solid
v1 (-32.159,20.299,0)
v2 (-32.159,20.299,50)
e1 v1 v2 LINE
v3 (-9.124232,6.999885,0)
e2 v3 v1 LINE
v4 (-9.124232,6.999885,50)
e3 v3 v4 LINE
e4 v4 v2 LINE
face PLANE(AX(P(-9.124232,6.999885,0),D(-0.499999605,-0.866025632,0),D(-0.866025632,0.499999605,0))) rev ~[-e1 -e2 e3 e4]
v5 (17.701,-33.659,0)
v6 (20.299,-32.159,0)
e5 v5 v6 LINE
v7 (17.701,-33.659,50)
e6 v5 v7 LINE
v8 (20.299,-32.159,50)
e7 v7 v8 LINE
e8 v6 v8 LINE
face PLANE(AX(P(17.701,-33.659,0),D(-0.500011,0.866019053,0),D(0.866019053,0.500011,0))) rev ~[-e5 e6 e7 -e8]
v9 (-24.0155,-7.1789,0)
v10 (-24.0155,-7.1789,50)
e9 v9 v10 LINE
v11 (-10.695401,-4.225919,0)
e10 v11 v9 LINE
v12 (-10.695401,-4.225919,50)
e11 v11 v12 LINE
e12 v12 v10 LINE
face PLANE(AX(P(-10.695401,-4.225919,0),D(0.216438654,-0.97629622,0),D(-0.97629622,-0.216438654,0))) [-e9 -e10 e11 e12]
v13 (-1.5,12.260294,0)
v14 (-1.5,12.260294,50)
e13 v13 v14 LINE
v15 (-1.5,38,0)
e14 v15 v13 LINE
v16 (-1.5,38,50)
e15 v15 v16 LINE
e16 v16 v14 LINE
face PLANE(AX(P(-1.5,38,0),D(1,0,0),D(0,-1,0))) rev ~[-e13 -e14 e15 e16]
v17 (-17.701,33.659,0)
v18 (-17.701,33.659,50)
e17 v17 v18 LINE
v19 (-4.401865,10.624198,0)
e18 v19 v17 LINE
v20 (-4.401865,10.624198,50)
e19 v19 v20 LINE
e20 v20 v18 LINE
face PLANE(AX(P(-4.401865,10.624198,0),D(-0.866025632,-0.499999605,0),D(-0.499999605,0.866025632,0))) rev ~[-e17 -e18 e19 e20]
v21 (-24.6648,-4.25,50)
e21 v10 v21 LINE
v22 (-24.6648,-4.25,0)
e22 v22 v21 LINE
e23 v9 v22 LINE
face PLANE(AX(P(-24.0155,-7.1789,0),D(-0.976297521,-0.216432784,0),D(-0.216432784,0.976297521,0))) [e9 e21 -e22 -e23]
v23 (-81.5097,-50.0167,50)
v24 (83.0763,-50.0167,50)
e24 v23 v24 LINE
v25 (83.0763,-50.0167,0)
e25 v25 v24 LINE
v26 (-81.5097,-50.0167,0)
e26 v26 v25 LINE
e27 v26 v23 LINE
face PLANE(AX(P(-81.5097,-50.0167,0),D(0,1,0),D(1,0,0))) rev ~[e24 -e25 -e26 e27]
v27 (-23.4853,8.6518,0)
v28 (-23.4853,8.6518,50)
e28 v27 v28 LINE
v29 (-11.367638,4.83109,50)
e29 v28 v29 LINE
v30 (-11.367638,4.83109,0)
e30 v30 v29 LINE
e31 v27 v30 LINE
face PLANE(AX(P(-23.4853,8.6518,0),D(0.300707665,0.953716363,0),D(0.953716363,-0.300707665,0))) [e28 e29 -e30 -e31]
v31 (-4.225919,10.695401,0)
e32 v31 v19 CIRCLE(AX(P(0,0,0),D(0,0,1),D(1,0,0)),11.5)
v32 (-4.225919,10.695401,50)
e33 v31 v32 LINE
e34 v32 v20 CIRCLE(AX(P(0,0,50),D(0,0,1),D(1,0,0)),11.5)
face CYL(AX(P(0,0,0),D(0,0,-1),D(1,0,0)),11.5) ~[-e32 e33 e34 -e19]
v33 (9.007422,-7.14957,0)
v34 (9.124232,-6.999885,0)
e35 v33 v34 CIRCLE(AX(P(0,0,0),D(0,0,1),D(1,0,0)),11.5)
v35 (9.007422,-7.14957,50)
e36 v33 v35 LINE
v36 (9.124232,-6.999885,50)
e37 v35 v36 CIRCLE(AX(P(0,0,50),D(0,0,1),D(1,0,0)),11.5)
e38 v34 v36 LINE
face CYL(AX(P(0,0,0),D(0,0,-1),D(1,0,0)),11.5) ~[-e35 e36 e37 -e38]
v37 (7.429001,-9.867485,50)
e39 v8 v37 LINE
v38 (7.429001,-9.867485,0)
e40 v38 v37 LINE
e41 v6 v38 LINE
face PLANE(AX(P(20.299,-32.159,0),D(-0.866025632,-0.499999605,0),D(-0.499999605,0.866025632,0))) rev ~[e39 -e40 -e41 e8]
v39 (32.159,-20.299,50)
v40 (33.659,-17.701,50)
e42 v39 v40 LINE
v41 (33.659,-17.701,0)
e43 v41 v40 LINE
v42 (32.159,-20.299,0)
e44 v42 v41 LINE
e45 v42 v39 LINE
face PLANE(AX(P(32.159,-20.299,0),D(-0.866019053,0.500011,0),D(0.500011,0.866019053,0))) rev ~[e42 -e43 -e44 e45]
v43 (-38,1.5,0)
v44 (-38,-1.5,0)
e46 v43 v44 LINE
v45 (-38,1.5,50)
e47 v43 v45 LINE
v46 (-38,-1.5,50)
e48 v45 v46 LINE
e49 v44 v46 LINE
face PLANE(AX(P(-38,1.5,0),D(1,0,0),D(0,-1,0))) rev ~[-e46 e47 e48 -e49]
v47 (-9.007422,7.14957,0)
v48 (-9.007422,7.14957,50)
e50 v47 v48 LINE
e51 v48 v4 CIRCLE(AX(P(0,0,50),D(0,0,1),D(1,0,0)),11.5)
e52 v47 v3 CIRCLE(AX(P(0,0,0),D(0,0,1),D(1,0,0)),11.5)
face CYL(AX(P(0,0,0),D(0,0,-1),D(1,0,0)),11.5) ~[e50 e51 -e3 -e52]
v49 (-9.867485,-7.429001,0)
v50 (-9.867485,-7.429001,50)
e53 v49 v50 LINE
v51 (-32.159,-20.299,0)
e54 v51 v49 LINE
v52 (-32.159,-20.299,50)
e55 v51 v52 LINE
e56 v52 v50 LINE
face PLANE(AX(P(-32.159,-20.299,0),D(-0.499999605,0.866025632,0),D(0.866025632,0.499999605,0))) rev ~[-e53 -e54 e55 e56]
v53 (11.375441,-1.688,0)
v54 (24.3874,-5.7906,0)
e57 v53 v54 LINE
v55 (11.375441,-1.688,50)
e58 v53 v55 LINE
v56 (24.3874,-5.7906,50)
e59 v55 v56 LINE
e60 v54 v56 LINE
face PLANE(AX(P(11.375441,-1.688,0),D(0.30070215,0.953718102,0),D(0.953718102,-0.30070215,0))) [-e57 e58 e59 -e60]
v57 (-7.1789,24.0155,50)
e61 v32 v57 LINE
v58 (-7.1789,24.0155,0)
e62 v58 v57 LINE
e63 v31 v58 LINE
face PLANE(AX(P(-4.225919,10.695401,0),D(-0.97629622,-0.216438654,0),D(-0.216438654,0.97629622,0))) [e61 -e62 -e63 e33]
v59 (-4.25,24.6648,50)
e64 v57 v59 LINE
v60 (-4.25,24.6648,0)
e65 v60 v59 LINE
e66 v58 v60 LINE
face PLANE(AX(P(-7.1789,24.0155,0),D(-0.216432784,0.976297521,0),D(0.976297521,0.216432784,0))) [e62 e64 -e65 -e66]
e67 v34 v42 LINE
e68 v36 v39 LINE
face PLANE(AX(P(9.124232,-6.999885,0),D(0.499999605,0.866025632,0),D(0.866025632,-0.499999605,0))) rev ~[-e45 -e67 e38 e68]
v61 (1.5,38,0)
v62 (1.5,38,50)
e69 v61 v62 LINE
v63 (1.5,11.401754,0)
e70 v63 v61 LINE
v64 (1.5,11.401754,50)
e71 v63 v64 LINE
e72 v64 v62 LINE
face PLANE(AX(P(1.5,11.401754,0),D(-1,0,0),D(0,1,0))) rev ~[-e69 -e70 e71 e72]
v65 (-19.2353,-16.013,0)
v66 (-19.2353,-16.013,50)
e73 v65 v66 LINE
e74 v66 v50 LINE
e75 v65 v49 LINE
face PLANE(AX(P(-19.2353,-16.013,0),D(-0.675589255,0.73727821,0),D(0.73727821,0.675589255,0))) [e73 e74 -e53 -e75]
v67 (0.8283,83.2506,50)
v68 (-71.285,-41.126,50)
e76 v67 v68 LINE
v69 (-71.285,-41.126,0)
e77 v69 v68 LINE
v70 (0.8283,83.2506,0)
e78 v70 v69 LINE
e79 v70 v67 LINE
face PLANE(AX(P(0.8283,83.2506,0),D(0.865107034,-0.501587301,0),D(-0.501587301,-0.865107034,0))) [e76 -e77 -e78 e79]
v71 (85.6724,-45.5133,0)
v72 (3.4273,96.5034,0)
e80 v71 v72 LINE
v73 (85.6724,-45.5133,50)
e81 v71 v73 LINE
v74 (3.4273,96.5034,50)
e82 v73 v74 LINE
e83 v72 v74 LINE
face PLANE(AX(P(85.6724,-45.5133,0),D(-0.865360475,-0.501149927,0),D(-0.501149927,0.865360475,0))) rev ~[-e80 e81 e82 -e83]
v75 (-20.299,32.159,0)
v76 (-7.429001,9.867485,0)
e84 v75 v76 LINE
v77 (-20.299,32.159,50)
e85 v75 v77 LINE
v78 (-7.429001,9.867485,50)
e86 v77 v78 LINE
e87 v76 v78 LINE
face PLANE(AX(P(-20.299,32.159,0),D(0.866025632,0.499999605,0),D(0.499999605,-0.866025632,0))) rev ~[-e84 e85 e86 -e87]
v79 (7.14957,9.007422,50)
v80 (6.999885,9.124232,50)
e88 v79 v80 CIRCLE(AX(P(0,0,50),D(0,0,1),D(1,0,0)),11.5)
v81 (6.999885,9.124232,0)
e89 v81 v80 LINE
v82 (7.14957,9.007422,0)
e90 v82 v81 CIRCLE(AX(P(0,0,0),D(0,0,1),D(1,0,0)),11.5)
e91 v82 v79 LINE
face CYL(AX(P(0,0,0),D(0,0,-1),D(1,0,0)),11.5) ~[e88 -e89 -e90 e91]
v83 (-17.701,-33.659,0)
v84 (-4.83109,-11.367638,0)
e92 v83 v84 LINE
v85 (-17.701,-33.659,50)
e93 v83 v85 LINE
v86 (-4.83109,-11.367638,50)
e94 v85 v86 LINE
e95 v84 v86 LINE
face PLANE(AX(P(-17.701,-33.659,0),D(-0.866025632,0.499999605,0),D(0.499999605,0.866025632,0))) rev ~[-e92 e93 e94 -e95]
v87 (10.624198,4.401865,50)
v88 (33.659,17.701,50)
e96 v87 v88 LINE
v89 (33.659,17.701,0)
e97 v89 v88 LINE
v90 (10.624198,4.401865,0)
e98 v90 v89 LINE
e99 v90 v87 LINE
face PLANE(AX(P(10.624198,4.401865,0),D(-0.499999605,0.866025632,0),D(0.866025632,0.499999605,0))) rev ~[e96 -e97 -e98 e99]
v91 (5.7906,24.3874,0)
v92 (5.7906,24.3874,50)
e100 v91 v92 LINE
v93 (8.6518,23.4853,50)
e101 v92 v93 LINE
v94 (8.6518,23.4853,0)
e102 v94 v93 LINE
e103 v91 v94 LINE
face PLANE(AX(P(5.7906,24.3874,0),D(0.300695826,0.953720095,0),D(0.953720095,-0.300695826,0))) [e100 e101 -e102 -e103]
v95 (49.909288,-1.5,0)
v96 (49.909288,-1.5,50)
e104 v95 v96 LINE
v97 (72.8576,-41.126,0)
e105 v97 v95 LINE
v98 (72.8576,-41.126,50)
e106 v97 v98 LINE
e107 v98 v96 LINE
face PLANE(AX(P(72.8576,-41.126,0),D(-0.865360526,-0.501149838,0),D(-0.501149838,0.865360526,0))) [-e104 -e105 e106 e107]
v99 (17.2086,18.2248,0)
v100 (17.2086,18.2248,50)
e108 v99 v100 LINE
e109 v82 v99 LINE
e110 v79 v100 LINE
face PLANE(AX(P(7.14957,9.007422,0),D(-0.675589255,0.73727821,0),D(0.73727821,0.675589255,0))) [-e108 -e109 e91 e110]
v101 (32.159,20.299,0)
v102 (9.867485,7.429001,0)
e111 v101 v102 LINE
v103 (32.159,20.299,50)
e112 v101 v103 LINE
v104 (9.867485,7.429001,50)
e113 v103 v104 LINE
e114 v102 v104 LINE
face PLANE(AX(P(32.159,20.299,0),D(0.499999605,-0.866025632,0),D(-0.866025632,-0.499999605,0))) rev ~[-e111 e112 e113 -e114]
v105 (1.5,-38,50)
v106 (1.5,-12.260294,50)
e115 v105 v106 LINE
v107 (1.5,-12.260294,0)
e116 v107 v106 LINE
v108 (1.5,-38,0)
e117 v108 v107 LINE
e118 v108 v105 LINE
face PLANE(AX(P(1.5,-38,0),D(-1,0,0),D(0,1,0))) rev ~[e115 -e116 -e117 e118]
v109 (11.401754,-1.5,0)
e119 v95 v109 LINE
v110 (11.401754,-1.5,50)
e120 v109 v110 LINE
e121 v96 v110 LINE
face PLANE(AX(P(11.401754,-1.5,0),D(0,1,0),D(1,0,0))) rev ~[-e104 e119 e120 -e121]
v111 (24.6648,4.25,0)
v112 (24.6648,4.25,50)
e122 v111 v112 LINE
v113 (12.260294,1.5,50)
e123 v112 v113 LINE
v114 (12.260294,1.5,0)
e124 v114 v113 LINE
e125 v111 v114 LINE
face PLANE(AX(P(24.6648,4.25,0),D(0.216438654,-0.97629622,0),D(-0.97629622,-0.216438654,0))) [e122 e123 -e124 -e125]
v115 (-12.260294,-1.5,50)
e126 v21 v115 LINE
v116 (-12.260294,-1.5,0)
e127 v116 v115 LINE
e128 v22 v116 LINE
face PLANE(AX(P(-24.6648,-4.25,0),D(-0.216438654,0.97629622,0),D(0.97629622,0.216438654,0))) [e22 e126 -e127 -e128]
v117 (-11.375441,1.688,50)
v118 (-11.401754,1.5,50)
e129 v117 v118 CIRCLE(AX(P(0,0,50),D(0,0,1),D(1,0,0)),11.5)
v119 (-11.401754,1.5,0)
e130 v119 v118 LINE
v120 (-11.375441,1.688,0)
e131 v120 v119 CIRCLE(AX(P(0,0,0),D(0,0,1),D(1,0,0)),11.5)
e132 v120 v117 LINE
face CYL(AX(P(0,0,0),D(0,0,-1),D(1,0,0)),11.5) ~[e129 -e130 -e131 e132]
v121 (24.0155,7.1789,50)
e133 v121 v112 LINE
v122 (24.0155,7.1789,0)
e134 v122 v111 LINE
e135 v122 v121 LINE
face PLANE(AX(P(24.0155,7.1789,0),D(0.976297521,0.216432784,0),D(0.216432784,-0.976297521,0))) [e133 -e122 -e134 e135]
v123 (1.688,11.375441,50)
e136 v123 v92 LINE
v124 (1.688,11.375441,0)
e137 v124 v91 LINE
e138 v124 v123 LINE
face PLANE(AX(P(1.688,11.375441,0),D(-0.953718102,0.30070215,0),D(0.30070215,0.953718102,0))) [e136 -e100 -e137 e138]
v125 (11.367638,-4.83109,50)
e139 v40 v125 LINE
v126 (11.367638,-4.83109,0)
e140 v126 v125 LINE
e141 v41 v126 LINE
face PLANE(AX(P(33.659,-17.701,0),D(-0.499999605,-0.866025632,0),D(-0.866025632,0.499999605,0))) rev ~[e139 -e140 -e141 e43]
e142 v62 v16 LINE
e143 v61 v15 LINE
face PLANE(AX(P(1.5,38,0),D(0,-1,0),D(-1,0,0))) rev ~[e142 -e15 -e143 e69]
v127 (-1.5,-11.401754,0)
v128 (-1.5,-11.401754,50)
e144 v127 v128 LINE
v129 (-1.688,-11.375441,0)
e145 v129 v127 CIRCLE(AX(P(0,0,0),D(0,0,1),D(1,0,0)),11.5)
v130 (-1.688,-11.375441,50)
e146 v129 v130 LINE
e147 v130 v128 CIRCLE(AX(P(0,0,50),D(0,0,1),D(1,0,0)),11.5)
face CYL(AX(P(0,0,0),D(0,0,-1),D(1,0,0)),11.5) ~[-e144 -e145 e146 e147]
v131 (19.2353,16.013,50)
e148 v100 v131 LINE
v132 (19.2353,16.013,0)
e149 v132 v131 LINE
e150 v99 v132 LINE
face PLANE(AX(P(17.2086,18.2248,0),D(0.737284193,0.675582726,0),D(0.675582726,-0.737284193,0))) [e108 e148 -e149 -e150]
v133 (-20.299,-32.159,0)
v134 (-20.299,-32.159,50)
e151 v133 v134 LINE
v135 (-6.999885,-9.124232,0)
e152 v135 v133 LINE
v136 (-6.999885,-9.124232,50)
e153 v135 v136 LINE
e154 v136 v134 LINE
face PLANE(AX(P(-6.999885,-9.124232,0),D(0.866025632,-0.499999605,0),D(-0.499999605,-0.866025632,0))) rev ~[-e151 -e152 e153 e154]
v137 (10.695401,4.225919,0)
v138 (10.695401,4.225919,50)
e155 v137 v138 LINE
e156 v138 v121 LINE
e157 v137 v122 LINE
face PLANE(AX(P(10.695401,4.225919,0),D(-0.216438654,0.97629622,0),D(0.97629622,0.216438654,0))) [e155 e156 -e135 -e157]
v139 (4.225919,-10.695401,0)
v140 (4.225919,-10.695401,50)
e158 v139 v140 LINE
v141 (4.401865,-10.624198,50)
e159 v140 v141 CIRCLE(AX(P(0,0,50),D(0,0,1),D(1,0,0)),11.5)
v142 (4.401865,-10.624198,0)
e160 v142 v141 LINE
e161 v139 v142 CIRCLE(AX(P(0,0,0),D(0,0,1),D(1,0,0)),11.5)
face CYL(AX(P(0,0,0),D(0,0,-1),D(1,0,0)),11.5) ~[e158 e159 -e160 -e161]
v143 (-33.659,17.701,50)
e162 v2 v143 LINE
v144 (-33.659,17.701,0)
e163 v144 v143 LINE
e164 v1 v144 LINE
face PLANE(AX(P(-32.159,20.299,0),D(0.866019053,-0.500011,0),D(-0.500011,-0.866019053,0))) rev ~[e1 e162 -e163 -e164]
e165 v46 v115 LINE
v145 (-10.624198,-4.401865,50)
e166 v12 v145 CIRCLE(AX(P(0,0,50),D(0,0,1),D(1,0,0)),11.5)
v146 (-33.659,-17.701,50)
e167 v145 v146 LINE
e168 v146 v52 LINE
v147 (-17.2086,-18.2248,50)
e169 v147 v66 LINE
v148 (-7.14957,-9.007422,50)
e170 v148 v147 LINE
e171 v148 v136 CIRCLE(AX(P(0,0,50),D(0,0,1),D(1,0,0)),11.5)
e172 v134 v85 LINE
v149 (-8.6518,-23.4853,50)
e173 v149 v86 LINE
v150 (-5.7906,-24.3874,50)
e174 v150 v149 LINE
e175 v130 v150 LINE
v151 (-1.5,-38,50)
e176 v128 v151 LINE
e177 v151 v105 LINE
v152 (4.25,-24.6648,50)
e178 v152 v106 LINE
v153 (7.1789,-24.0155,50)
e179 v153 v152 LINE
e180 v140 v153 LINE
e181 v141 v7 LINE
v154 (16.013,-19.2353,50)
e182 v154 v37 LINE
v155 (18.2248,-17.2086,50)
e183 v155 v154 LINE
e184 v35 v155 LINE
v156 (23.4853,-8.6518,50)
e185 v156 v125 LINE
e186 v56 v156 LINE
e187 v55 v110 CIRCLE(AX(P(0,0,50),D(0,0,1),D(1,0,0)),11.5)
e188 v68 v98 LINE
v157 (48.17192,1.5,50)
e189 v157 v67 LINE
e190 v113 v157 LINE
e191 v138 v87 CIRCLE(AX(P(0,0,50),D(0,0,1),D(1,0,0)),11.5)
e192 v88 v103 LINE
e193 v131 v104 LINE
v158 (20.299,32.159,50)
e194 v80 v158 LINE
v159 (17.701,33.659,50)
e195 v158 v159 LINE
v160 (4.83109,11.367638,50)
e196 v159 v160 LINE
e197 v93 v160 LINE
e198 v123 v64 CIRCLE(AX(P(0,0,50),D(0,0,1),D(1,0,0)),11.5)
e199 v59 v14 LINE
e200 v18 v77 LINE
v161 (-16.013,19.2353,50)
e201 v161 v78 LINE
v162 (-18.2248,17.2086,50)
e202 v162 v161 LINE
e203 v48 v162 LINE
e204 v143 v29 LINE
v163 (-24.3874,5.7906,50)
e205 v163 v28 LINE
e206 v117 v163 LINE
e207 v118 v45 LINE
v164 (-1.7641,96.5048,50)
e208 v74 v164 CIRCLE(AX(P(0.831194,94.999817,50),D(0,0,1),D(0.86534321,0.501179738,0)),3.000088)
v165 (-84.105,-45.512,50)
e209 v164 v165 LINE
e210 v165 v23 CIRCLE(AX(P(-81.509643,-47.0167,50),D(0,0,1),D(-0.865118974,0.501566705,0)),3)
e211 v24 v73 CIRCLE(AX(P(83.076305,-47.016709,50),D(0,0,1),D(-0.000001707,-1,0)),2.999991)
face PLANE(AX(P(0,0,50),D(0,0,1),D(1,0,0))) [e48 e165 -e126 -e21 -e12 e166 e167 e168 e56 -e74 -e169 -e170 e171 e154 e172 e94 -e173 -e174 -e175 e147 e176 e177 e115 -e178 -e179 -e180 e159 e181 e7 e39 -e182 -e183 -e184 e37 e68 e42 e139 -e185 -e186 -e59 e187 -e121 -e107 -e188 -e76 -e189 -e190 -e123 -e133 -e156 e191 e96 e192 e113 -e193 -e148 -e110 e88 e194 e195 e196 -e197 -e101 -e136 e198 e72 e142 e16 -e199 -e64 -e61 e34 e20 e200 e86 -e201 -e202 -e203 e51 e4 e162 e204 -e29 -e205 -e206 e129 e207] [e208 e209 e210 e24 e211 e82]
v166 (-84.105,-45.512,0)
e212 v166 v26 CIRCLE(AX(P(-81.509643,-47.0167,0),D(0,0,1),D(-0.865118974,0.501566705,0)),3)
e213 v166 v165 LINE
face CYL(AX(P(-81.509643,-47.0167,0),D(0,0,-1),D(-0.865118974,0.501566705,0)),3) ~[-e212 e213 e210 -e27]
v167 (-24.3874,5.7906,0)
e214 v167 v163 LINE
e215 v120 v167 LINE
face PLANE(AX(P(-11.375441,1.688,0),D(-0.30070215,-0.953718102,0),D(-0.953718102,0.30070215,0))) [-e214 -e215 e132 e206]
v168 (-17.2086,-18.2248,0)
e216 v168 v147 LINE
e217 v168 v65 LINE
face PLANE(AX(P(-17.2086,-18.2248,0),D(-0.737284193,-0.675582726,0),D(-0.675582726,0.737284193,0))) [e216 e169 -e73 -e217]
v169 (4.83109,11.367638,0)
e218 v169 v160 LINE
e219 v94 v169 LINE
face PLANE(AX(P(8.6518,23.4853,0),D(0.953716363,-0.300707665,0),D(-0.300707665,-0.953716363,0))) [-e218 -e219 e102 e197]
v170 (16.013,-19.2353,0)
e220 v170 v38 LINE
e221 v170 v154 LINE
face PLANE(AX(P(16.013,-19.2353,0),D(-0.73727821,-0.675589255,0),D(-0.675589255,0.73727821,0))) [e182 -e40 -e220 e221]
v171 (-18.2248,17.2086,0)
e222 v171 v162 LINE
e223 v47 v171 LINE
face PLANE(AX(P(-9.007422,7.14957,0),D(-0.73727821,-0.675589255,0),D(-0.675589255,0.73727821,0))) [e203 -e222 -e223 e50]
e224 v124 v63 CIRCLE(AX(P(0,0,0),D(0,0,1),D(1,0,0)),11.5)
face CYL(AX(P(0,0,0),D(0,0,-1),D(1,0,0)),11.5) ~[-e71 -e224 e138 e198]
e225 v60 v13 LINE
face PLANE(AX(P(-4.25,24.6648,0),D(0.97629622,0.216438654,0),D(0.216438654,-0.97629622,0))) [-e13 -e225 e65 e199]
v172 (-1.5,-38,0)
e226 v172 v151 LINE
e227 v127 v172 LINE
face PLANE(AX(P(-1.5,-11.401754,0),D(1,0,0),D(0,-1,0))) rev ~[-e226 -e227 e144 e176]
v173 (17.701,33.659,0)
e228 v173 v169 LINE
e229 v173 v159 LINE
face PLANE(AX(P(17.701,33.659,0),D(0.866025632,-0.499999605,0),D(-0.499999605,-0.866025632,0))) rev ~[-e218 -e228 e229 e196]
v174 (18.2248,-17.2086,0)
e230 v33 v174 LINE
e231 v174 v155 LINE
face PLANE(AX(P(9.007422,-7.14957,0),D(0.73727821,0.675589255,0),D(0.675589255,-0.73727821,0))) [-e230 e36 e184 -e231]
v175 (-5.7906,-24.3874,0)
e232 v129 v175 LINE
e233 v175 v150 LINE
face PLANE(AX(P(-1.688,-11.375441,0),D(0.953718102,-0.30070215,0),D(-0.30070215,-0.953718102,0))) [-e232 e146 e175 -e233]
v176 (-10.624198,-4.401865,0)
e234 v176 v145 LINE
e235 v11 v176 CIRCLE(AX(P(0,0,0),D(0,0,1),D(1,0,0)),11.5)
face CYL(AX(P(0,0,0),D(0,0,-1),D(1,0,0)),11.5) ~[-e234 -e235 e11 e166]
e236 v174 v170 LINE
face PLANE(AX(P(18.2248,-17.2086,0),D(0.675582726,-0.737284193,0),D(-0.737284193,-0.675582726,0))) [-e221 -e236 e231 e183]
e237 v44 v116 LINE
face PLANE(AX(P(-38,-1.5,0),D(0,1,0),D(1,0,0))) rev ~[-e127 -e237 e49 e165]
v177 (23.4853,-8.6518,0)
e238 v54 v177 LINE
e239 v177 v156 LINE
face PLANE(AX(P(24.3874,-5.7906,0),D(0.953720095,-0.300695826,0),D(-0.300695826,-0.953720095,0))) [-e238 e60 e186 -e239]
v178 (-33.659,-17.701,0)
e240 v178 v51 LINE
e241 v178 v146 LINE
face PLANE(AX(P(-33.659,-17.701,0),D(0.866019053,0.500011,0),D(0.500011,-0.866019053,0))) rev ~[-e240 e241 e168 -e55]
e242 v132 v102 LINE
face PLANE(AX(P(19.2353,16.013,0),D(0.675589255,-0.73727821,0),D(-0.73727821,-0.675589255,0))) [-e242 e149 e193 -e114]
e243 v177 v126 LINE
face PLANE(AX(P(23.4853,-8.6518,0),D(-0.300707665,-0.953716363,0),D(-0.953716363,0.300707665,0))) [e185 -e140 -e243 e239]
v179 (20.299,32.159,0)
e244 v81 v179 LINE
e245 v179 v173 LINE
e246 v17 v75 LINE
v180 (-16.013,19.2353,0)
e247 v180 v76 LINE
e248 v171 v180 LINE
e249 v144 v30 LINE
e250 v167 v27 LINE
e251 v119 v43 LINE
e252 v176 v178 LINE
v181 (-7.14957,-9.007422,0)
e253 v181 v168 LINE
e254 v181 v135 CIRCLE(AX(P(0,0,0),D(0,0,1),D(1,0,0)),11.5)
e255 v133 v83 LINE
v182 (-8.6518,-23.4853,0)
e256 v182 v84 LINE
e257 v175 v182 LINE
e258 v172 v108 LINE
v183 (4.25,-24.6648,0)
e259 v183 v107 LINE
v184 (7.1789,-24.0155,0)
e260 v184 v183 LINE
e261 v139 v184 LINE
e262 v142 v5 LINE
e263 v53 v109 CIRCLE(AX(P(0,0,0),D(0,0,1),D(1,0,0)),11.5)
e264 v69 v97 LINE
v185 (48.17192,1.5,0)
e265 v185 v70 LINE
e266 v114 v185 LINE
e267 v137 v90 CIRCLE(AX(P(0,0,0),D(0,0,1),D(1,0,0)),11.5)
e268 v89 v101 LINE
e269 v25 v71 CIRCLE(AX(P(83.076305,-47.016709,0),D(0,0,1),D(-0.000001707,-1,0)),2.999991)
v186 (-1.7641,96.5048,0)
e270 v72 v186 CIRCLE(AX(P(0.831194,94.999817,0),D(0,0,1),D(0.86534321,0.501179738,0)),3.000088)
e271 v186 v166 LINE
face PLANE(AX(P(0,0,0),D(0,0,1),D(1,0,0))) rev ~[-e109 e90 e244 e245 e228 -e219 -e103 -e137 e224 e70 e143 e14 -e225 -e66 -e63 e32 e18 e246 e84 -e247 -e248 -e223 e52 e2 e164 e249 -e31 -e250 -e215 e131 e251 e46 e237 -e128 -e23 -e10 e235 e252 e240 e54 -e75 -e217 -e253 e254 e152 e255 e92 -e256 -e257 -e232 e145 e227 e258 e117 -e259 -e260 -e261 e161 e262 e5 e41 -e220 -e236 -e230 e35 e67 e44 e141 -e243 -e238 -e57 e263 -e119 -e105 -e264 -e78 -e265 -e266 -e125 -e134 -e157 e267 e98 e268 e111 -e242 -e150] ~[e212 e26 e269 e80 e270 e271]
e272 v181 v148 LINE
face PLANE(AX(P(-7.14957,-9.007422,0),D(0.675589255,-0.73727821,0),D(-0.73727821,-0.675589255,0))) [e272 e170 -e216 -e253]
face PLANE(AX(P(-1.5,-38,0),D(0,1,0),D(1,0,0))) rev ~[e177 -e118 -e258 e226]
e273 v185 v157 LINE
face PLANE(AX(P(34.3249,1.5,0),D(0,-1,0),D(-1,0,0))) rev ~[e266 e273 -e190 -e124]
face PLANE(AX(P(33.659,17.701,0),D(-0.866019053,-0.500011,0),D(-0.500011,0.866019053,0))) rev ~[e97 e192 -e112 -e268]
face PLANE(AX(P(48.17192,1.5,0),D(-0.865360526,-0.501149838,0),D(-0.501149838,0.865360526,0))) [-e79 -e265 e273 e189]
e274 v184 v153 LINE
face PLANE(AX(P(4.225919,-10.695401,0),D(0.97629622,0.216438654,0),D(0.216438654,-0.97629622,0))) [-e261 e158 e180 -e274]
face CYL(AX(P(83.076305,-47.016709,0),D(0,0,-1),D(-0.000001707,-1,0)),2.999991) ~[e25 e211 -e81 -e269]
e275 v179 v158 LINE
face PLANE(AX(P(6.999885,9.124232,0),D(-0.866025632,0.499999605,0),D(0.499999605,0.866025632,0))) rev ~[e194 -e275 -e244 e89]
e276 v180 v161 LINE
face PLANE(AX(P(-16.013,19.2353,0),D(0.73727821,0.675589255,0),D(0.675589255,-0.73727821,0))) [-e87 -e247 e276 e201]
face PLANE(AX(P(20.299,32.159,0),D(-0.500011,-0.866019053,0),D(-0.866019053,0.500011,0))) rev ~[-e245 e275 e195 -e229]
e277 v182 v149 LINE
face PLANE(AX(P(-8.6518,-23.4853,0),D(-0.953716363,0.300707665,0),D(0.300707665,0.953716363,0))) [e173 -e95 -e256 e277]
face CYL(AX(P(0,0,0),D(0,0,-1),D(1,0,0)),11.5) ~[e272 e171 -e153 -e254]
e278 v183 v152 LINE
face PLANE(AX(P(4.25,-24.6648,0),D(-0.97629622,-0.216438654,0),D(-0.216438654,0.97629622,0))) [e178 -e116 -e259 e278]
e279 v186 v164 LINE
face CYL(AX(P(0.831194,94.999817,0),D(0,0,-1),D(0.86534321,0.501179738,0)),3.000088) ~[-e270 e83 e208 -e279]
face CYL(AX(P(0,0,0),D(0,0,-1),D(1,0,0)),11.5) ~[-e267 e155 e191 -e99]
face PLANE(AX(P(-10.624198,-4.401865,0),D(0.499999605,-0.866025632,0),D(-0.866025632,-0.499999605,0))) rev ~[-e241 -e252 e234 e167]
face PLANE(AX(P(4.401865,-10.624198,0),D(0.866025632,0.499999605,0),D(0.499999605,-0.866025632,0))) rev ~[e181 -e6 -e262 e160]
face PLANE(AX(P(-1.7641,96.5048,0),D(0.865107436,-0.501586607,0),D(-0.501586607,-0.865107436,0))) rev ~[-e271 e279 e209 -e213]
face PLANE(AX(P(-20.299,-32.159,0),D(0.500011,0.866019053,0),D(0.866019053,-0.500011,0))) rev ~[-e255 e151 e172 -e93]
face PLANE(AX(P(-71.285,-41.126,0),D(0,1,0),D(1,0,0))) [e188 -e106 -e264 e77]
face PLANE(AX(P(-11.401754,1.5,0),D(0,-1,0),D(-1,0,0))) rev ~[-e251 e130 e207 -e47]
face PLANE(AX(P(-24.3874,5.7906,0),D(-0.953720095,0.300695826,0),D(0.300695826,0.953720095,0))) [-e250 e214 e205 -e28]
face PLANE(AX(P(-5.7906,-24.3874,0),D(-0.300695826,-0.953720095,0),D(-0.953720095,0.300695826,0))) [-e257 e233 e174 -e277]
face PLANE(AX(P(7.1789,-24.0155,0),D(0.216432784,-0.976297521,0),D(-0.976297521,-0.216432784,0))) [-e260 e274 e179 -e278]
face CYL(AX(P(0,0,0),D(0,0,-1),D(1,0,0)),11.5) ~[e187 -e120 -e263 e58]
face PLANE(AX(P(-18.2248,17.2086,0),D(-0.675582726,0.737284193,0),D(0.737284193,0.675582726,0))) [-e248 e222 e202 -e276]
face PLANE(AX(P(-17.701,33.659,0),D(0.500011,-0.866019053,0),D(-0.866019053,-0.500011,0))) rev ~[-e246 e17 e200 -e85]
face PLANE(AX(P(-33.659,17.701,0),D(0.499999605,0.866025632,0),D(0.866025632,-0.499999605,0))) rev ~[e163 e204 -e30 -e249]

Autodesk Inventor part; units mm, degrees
ref_plane "YZ Plane" through (0, 0, 0) normal (1, 0, 0) x (0, 1, 0)
ref_plane "XZ Plane" through (0, 0, 0) normal (0, 1, 0) x (-1, 0, 0)
ref_plane "XY Plane" through (0, 0, 0) normal (0, 0, 1) x (1, 0, 0)
sketch "Esquisse3" plane through (0, 0, 0) normal (0, 0, 1) x (1, 0, 0)
  line L0 (-97.75, 106.7859) -> (105.7088, 106.7859) construction
  line L1 (105.7088, 106.7859) -> (105.7088, -86.5) construction
  line L2 (105.7088, -86.5) -> (-97.75, -86.5) construction
  line L3 (-97.75, -86.5) -> (-97.75, 106.7859) construction
  circle A0 centre (0, 0) radius 11.5
  line L4 (-1.5, 0) -> (1.5, 0)
  line L5 (1.5, 0) -> (1.5, 38)
  line L6 (1.5, 38) -> (-1.5, 38)
  line L7 (-1.5, 38) -> (-1.5, 0)
  circle A1 centre (0, 0) radius 11.5 construction
  line L8 (-1.299, -0.75) -> (1.299, 0.75)
  line L9 (1.299, 0.75) -> (-17.701, 33.659)
  line L10 (-17.701, 33.659) -> (-20.299, 32.159)
  line L11 (-20.299, 32.159) -> (-1.299, -0.75)
  circle A2 centre (0, 0) radius 11.5 construction
  line L12 (-0.75, -1.299) -> (0.75, 1.299)
  line L13 (0.75, 1.299) -> (-32.159, 20.299)
  line L14 (-32.159, 20.299) -> (-33.659, 17.701)
  line L15 (-33.659, 17.701) -> (-0.75, -1.299)
  circle A3 centre (0, 0) radius 11.5 construction
  line L16 (0, -1.5) -> (0, 1.5)
  line L17 (0, 1.5) -> (-38, 1.5)
  line L18 (-38, 1.5) -> (-38, -1.5)
  line L19 (-38, -1.5) -> (0, -1.5)
  line L20 (-17.701, -33.659) -> (1.299, -0.75)
  line L21 (-0.75, -1.299) -> (0.75, 1.299)
  line L22 (-1.299, 0.75) -> (-20.299, -32.159)
  line L23 (-33.659, -17.701) -> (-32.159, -20.299)
  line L24 (-0.75, 1.299) -> (-33.659, -17.701)
  line L25 (-38, 1.5) -> (-38, -1.5)
  line L26 (0, 1.5) -> (-38, 1.5)
  line L27 (-33.659, 17.701) -> (-0.75, -1.299)
  line L28 (0.75, 1.299) -> (-32.159, 20.299)
  line L29 (-32.159, 20.299) -> (-33.659, 17.701)
  line L30 (-20.299, -32.159) -> (-17.701, -33.659)
  line L31 (-38, -1.5) -> (0, -1.5)
  line L32 (-32.159, -20.299) -> (0.75, -1.299)
  line L33 (1.299, -0.75) -> (-1.299, 0.75)
  line L34 (0.75, -1.299) -> (-0.75, 1.299)
  line L35 (0, -1.5) -> (0, 1.5)
  line L36 (20.299, -32.159) -> (1.299, 0.75)
  line L37 (0.75, -1.299) -> (-0.75, 1.299)
  line L38 (-1.299, -0.75) -> (17.701, -33.659)
  line L39 (-1.5, -38) -> (1.5, -38)
  line L40 (-1.5, 0) -> (-1.5, -38)
  line L41 (-20.299, -32.159) -> (-17.701, -33.659)
  line L42 (-1.299, 0.75) -> (-20.299, -32.159)
  line L43 (-32.159, -20.299) -> (0.75, -1.299)
  line L44 (-0.75, 1.299) -> (-33.659, -17.701)
  line L45 (-33.659, -17.701) -> (-32.159, -20.299)
  line L46 (17.701, -33.659) -> (20.299, -32.159)
  line L47 (-17.701, -33.659) -> (1.299, -0.75)
  line L48 (1.5, -38) -> (1.5, 0)
  line L49 (1.299, 0.75) -> (-1.299, -0.75)
  line L50 (1.5, 0) -> (-1.5, 0)
  line L51 (1.299, -0.75) -> (-1.299, 0.75)
  line L52 (38, 1.5) -> (0, 1.5)
  line L53 (1.5, 0) -> (-1.5, 0)
  line L54 (0, -1.5) -> (38, -1.5)
  line L55 (32.159, -20.299) -> (33.659, -17.701)
  line L56 (-0.75, -1.299) -> (32.159, -20.299)
  line L57 (17.701, -33.659) -> (20.299, -32.159)
  line L58 (-1.299, -0.75) -> (17.701, -33.659)
  line L59 (1.5, -38) -> (1.5, 0)
  line L60 (-1.5, 0) -> (-1.5, -38)
  line L61 (-1.5, -38) -> (1.5, -38)
  line L62 (38, -1.5) -> (38, 1.5)
  line L63 (20.299, -32.159) -> (1.299, 0.75)
  line L64 (33.659, -17.701) -> (0.75, 1.299)
  line L65 (0, 1.5) -> (0, -1.5)
  line L66 (0.75, 1.299) -> (-0.75, -1.299)
  line L67 (1.299, 0.75) -> (-1.299, -0.75)
  line L68 (17.701, 33.659) -> (-1.299, 0.75)
  line L69 (0.75, 1.299) -> (-0.75, -1.299)
  line L70 (1.299, -0.75) -> (20.299, 32.159)
  line L71 (33.659, 17.701) -> (32.159, 20.299)
  line L72 (0.75, -1.299) -> (33.659, 17.701)
  line L73 (38, -1.5) -> (38, 1.5)
  line L74 (0, -1.5) -> (38, -1.5)
  line L75 (33.659, -17.701) -> (0.75, 1.299)
  line L76 (-0.75, -1.299) -> (32.159, -20.299)
  line L77 (32.159, -20.299) -> (33.659, -17.701)
  line L78 (20.299, 32.159) -> (17.701, 33.659)
  line L79 (38, 1.5) -> (0, 1.5)
  line L80 (32.159, 20.299) -> (-0.75, 1.299)
  line L81 (-1.299, 0.75) -> (1.299, -0.75)
  line L82 (-0.75, 1.299) -> (0.75, -1.299)
  line L83 (0, 1.5) -> (0, -1.5)
  line L84 (-20.299, 32.159) -> (-1.299, -0.75)
  line L85 (-0.75, 1.299) -> (0.75, -1.299)
  line L86 (1.299, 0.75) -> (-17.701, 33.659)
  line L87 (1.5, 38) -> (-1.5, 38)
  line L88 (1.5, 0) -> (1.5, 38)
  line L89 (20.299, 32.159) -> (17.701, 33.659)
  line L90 (1.299, -0.75) -> (20.299, 32.159)
  line L91 (32.159, 20.299) -> (-0.75, 1.299)
  line L92 (0.75, -1.299) -> (33.659, 17.701)
  line L93 (33.659, 17.701) -> (32.159, 20.299)
  line L94 (-17.701, 33.659) -> (-20.299, 32.159)
  line L95 (17.701, 33.659) -> (-1.299, 0.75)
  line L96 (-1.5, 38) -> (-1.5, 0)
  line L97 (-1.299, -0.75) -> (1.299, 0.75)
  line L98 (-1.5, 0) -> (1.5, 0)
  line L99 (-1.299, 0.75) -> (1.299, -0.75)
  line L100 (-3.6093, 7.914) -> (-7.1789, 24.0155)
  line L101 (-7.1789, 24.0155) -> (-4.25, 24.6648)
  line L102 (-4.25, 24.6648) -> (-0.6804, 8.5633)
  line L103 (-0.6804, 8.5633) -> (-3.6093, 7.914)
  line L104 (-3.6093, 7.914) -> (-4.25, 24.6648) construction
  line L105 (-7.1789, 24.0155) -> (-0.6804, 8.5633) construction
  line L106 (-4.8709, 7.0758) -> (-7.0827, 5.0491)
  line L107 (-16.013, 19.2353) -> (-4.8709, 7.0758)
  line L108 (-7.0827, 5.0491) -> (-18.2248, 17.2086)
  line L109 (-7.7562, 3.6924) -> (-8.6583, 0.8313)
  line L110 (-23.4853, 8.6518) -> (-7.7562, 3.6924)
  line L111 (-8.6583, 0.8313) -> (-24.3874, 5.7906)
  line L112 (-8.5633, -0.6804) -> (-7.914, -3.6093)
  line L113 (-24.6648, -4.25) -> (-8.5633, -0.6804)
  line L114 (-7.914, -3.6093) -> (-24.0155, -7.1789)
  line L115 (-18.2248, 17.2086) -> (-16.013, 19.2353)
  line L116 (-24.3874, 5.7906) -> (-23.4853, 8.6518)
  line L117 (-24.0155, -7.1789) -> (-24.6648, -4.25)
  line L118 (-0.8313, -8.6583) -> (-5.7906, -24.3874)
  line L119 (-8.6518, -23.4853) -> (-3.6924, -7.7562)
  line L120 (-5.7906, -24.3874) -> (-8.6518, -23.4853)
  line L121 (-3.6924, -7.7562) -> (-0.8313, -8.6583)
  line L122 (-17.2086, -18.2248) -> (-19.2353, -16.013)
  line L123 (-5.0491, -7.0827) -> (-17.2086, -18.2248)
  line L124 (-19.2353, -16.013) -> (-7.0758, -4.8709)
  line L125 (-7.914, -3.6093) -> (-24.0155, -7.1789)
  line L126 (-24.0155, -7.1789) -> (-24.6648, -4.25)
  line L127 (-24.6648, -4.25) -> (-8.5633, -0.6804)
  line L128 (-7.0758, -4.8709) -> (-5.0491, -7.0827)
  line L129 (-7.7562, 3.6924) -> (-8.6583, 0.8313)
  line L130 (-8.6583, 0.8313) -> (-24.3874, 5.7906)
  line L131 (-23.4853, 8.6518) -> (-7.7562, 3.6924)
  line L132 (-8.5633, -0.6804) -> (-7.914, -3.6093)
  line L133 (-24.3874, 5.7906) -> (-23.4853, 8.6518)
  line L134 (7.0827, -5.0491) -> (18.2248, -17.2086)
  line L135 (16.013, -19.2353) -> (4.8709, -7.0758)
  line L136 (18.2248, -17.2086) -> (16.013, -19.2353)
  line L137 (4.8709, -7.0758) -> (7.0827, -5.0491)
  line L138 (7.1789, -24.0155) -> (4.25, -24.6648)
  line L139 (3.6093, -7.914) -> (7.1789, -24.0155)
  line L140 (4.25, -24.6648) -> (0.6804, -8.5633)
  line L141 (-0.8313, -8.6583) -> (-5.7906, -24.3874)
  line L142 (-5.7906, -24.3874) -> (-8.6518, -23.4853)
  line L143 (-8.6518, -23.4853) -> (-3.6924, -7.7562)
  line L144 (0.6804, -8.5633) -> (3.6093, -7.914)
  line L145 (-7.0758, -4.8709) -> (-5.0491, -7.0827)
  line L146 (-5.0491, -7.0827) -> (-17.2086, -18.2248)
  line L147 (-19.2353, -16.013) -> (-7.0758, -4.8709)
  line L148 (-3.6924, -7.7562) -> (-0.8313, -8.6583)
  line L149 (-17.2086, -18.2248) -> (-19.2353, -16.013)
  line L150 (7.914, 3.6093) -> (24.0155, 7.1789)
  line L151 (24.6648, 4.25) -> (8.5633, 0.6804)
  line L152 (24.0155, 7.1789) -> (24.6648, 4.25)
  line L153 (8.5633, 0.6804) -> (7.914, 3.6093)
  line L154 (24.3874, -5.7906) -> (23.4853, -8.6518)
  line L155 (8.6583, -0.8313) -> (24.3874, -5.7906)
  line L156 (23.4853, -8.6518) -> (7.7562, -3.6924)
  line L157 (7.0827, -5.0491) -> (18.2248, -17.2086)
  line L158 (18.2248, -17.2086) -> (16.013, -19.2353)
  line L159 (16.013, -19.2353) -> (4.8709, -7.0758)
  line L160 (7.7562, -3.6924) -> (8.6583, -0.8313)
  line L161 (0.6804, -8.5633) -> (3.6093, -7.914)
  line L162 (3.6093, -7.914) -> (7.1789, -24.0155)
  line L163 (4.25, -24.6648) -> (0.6804, -8.5633)
  line L164 (4.8709, -7.0758) -> (7.0827, -5.0491)
  line L165 (7.1789, -24.0155) -> (4.25, -24.6648)
  line L166 (0.8313, 8.6583) -> (5.7906, 24.3874)
  line L167 (8.6518, 23.4853) -> (3.6924, 7.7562)
  line L168 (5.7906, 24.3874) -> (8.6518, 23.4853)
  line L169 (3.6924, 7.7562) -> (0.8313, 8.6583)
  line L170 (17.2086, 18.2248) -> (19.2353, 16.013)
  line L171 (5.0491, 7.0827) -> (17.2086, 18.2248)
  line L172 (19.2353, 16.013) -> (7.0758, 4.8709)
  line L173 (7.914, 3.6093) -> (24.0155, 7.1789)
  line L174 (24.0155, 7.1789) -> (24.6648, 4.25)
  line L175 (24.6648, 4.25) -> (8.5633, 0.6804)
  line L176 (7.0758, 4.8709) -> (5.0491, 7.0827)
  line L177 (7.7562, -3.6924) -> (8.6583, -0.8313)
  line L178 (8.6583, -0.8313) -> (24.3874, -5.7906)
  line L179 (23.4853, -8.6518) -> (7.7562, -3.6924)
  line L180 (8.5633, 0.6804) -> (7.914, 3.6093)
  line L181 (24.3874, -5.7906) -> (23.4853, -8.6518)
  line L182 (-7.0827, 5.0491) -> (-18.2248, 17.2086)
  line L183 (-16.013, 19.2353) -> (-4.8709, 7.0758)
  line L184 (-18.2248, 17.2086) -> (-16.013, 19.2353)
  line L185 (-4.8709, 7.0758) -> (-7.0827, 5.0491)
  line L186 (-7.1789, 24.0155) -> (-4.25, 24.6648)
  line L187 (-3.6093, 7.914) -> (-7.1789, 24.0155)
  line L188 (-4.25, 24.6648) -> (-0.6804, 8.5633)
  line L189 (0.8313, 8.6583) -> (5.7906, 24.3874)
  line L190 (5.7906, 24.3874) -> (8.6518, 23.4853)
  line L191 (8.6518, 23.4853) -> (3.6924, 7.7562)
  line L192 (-0.6804, 8.5633) -> (-3.6093, 7.914)
  line L193 (7.0758, 4.8709) -> (5.0491, 7.0827)
  line L194 (5.0491, 7.0827) -> (17.2086, 18.2248)
  line L195 (19.2353, 16.013) -> (7.0758, 4.8709)
  line L196 (3.6924, 7.7562) -> (0.8313, 8.6583)
  line L197 (17.2086, 18.2248) -> (19.2353, 16.013)
  line L198 (-71.285, -41.126) -> (72.8576, -41.126)
  line L199 (72.8576, -41.126) -> (0.8283, 83.2506)
  line L200 (0.8283, 83.2506) -> (-71.285, -41.126)
  line L201 (-81.5097, -50.0167) -> (83.0763, -50.0167)
  line L202 (85.6724, -45.5133) -> (3.4273, 96.5034)
  line L203 (-1.7641, 96.5048) -> (-84.105, -45.512)
  arc A4 (-84.105, -45.512) -> (-81.5097, -50.0167) centre (-81.5097, -47.0167) ccw
  arc A5 (83.0763, -50.0167) -> (85.6724, -45.5133) centre (83.0763, -47.0167) ccw
  arc A6 (3.4273, 96.5034) -> (-1.7641, 96.5048) centre (0.8313, 95) ccw
  line L204 (34.3249, -1.5) -> (55, -1.5)
  line L205 (55, -1.5) -> (55, 1.5)
  line L206 (55, 1.5) -> (34.3249, 1.5)
  line L207 (34.3249, 1.5) -> (34.3249, -1.5)
  point P0 (0, 38)
  point P1 (-19, 32.909)
  point P2 (-32.909, 19)
  point P3 (-38, 0)
  point P4 (-32.909, -19)
  point P5 (-38, 0)
  point P6 (-32.909, 19)
  point P7 (-141.3543, -31.2611)
  point P8 (-19, -32.909)
  point P9 (0, -38)
  point P10 (-19, -32.909)
  point P11 (-32.909, -19)
  point P12 (-43.6043, -138.0469)
  point P13 (19, -32.909)
  point P14 (32.909, -19)
  point P15 (19, -32.909)
  point P16 (0, -38)
  point P17 (97.75, -106.7859)
  point P18 (38, 0)
  point P19 (32.909, 19)
  point P20 (38, 0)
  point P21 (32.909, -19)
  point P22 (141.3543, 31.2611)
  point P23 (19, 32.909)
  point P24 (0, 38)
  point P25 (19, 32.909)
  point P26 (32.909, 19)
  point P27 (43.6043, 138.0469)
  point P28 (-19, 32.909)
  point P29 (-3.9296, 16.2894)
  dimension "d116" = 203.4588
  dimension "d120" = 193.2859
  dimension "d121" = 97.75
  dimension "d122" = 86.5
  dimension "d124" = 23
  dimension "d125" = 3
  dimension "d128" = 38
  dimension "d133" = 90
  dimension "d138" = 360
  dimension "d143" = 3
  dimension "d155" = 25
  dimension "d157" = 12.5
  dimension "d162" = 2.75
  dimension "d165" = 90
  dimension "d170" = 360
  dimension "d179" = 3
extrude "Extrusion3" add sketch "Esquisse3" along normal blind 50 contours A0 L54 L155 L160 L64 L72 L52 L153 L151 | A0 L151 L52 L207 L54 | L151 L153 L52 A0 | A0 L52 L151 | A0 L155 L54 | L52 L153 L72 L150 A0 | A0 L150 L152 L151 L52 | L155 L154 L156 L64 A0 | A0 L64 L160 L54 L155 | L54 L160 L155 | L207 L52 L62 L54 | L150 L72 A0 | L52 L72 L153 | L64 L156 A0 | A0 L156 L160 L64 | L160 L64 L54 | L62 L206 L199 L204 | L72 L150 L153 L52 L70 L80 L176 L172 A0 | A0 L172 L80 L71 L72 | L72 L153 L150 | L72 L64 L70 L52 | L156 L64 L55 L56 A0 | A0 L56 L134 L137 L36 L54 L64 L160 L156 | L54 L36 L72 L64 | L199 L206 L205 L204 | L172 L176 L80 A0 | A0 L80 L172 | L70 L64 L5 L52 | L52 L5 L80 L70 | L72 L36 L70 L64 | A0 L134 L56 | L54 L48 L72 L36 | L36 L56 L48 L54 | L80 L176 L70 L171 A0 | A0 L171 L170 L172 L80 | L52 L9 L80 L5 | L5 L64 L9 L52 | L70 L36 L5 L64 | L80 L5 L68 L169 L167 A0 L70 L171 L176 | L70 L176 L80 | L72 L48 L70 L36 | L134 L136 L135 L36 A0 | A0 L36 L137 L56 L134 | L56 L137 L134 | L56 L137 L36 | L36 L137 L135 A0 L38 L139 L144 L48 L56 | L54 L20 L72 L48 | L48 L56 L20 L54 | L171 L70 A0 | L5 L36 L9 L64 | L80 L9 L68 L5 | L52 L13 L80 L9 | L9 L64 L13 L52 | L70 L48 L5 L36 | L176 L171 L70 | L72 L20 L70 L48 | L36 L135 A0 | A0 L135 L137 L36 | L48 L38 L20 L56 | L54 L32 L72 L20 | L20 L56 L32 L54 | A0 L167 L68 L78 L70 | L5 L4 L8 L36 | L9 L8 L12 L64 | L68 L9 L7 L103 L102 A0 L5 L166 L169 | L5 L169 L68 | L80 L13 L68 L9 | L52 L17 L80 L13 | L13 L12 L16 L52 | L70 L33 L4 L48 | L72 L34 L33 L20 | L135 L36 L46 L38 A0 | L48 L144 L140 A0 L40 L118 L121 L20 L38 | L38 L144 L48 | L20 L38 L32 L56 | L54 L16 L34 L32 | L32 L56 L19 L54 | L167 L169 L68 A0 | A0 L68 L167 | L169 L166 L5 | L5 L166 A0 L68 L169 | L68 L13 L7 L9 | L80 L17 L68 L13 | L16 L34 L80 L17 | A0 L139 L38 | L20 L40 L32 L38 | L144 L139 L38 | L38 L139 A0 L48 L144 | L48 A0 L140 L144 | L32 L38 L19 L56 | L19 L56 L12 L16 | A0 L166 L168 L167 L68 | L8 L11 L40 L4 | L12 L15 L38 L8 | L4 L7 L22 L33 | L33 L68 L24 L34 | L5 A0 L166 | L9 L103 L7 | L7 L13 L11 L106 L107 A0 L9 L100 L103 | L68 L17 L7 L13 | L80 L24 L68 L17 | L139 L138 L140 L48 A0 | L40 L121 L20 | L20 L121 L119 A0 L22 L123 L128 L32 L40 | L32 L40 L19 L38 | L48 L140 A0 | L19 L38 L15 L56 | L40 L11 L22 L7 | L38 L15 L40 L11 | L22 L7 L24 L68 | A0 L102 L7 L6 L5 | L103 L9 L100 A0 L7 | L7 A0 L102 L103 | L7 L17 L11 L13 | L103 L100 L9 | L68 L24 L7 L17 | L121 L40 L118 A0 L20 | L20 A0 L119 L121 | L32 L22 L19 L40 | L121 L118 L40 | L19 L40 L15 L38 | L140 L48 L39 L40 A0 | L22 L11 L24 L7 | L40 L15 L22 L11 | A0 L7 L102 | A0 L100 L101 L102 L7 | L7 L24 L11 L17 | L13 L106 L11 | L11 L17 L15 L109 L110 A0 L13 L108 L106 | L9 A0 L100 | L20 L119 A0 | A0 L118 L120 L119 L20 | L32 L128 L124 A0 L24 L114 L112 L19 L22 | L22 L128 L32 | L19 L22 L15 L40 | L40 A0 L118 | L22 L15 L24 L11 | L11 L24 L15 L17 | L106 L13 L108 A0 L11 | L11 A0 L107 L106 | L106 L108 L13 | A0 L107 L11 L10 L9 | L119 L20 L30 L22 A0 | L19 L24 L15 L22 | L128 L123 L22 | L22 L123 A0 L32 L128 | L32 A0 L124 L128 | L17 L109 L15 | L15 L24 L19 L112 L113 A0 L17 L111 L109 | L11 L107 A0 | A0 L108 L115 L107 L11 | L13 A0 L108 | A0 L123 L22 | L24 L112 L19 | L32 L124 A0 | A0 L123 L122 L124 L32 | L109 L17 L111 A0 L15 | L15 A0 L110 L109 | L109 L111 L17 | A0 L110 L15 L14 L13 | L112 L24 L114 A0 L19 | L19 A0 L113 L112 | L112 L114 L24 | L124 L32 L23 L24 A0 | L15 L110 A0 | A0 L111 L116 L110 L15 | L17 A0 L111 | L19 L113 A0 | A0 L114 L117 L113 L19 | L24 A0 L114 | A0 L113 L19 L18 L17 | A4 L203 A6 L202 A5 L201
equation "\"pi\" = 3.141593"
equation "\"nombredor\" = 1.61803"
properties part number "Logo Laser"
